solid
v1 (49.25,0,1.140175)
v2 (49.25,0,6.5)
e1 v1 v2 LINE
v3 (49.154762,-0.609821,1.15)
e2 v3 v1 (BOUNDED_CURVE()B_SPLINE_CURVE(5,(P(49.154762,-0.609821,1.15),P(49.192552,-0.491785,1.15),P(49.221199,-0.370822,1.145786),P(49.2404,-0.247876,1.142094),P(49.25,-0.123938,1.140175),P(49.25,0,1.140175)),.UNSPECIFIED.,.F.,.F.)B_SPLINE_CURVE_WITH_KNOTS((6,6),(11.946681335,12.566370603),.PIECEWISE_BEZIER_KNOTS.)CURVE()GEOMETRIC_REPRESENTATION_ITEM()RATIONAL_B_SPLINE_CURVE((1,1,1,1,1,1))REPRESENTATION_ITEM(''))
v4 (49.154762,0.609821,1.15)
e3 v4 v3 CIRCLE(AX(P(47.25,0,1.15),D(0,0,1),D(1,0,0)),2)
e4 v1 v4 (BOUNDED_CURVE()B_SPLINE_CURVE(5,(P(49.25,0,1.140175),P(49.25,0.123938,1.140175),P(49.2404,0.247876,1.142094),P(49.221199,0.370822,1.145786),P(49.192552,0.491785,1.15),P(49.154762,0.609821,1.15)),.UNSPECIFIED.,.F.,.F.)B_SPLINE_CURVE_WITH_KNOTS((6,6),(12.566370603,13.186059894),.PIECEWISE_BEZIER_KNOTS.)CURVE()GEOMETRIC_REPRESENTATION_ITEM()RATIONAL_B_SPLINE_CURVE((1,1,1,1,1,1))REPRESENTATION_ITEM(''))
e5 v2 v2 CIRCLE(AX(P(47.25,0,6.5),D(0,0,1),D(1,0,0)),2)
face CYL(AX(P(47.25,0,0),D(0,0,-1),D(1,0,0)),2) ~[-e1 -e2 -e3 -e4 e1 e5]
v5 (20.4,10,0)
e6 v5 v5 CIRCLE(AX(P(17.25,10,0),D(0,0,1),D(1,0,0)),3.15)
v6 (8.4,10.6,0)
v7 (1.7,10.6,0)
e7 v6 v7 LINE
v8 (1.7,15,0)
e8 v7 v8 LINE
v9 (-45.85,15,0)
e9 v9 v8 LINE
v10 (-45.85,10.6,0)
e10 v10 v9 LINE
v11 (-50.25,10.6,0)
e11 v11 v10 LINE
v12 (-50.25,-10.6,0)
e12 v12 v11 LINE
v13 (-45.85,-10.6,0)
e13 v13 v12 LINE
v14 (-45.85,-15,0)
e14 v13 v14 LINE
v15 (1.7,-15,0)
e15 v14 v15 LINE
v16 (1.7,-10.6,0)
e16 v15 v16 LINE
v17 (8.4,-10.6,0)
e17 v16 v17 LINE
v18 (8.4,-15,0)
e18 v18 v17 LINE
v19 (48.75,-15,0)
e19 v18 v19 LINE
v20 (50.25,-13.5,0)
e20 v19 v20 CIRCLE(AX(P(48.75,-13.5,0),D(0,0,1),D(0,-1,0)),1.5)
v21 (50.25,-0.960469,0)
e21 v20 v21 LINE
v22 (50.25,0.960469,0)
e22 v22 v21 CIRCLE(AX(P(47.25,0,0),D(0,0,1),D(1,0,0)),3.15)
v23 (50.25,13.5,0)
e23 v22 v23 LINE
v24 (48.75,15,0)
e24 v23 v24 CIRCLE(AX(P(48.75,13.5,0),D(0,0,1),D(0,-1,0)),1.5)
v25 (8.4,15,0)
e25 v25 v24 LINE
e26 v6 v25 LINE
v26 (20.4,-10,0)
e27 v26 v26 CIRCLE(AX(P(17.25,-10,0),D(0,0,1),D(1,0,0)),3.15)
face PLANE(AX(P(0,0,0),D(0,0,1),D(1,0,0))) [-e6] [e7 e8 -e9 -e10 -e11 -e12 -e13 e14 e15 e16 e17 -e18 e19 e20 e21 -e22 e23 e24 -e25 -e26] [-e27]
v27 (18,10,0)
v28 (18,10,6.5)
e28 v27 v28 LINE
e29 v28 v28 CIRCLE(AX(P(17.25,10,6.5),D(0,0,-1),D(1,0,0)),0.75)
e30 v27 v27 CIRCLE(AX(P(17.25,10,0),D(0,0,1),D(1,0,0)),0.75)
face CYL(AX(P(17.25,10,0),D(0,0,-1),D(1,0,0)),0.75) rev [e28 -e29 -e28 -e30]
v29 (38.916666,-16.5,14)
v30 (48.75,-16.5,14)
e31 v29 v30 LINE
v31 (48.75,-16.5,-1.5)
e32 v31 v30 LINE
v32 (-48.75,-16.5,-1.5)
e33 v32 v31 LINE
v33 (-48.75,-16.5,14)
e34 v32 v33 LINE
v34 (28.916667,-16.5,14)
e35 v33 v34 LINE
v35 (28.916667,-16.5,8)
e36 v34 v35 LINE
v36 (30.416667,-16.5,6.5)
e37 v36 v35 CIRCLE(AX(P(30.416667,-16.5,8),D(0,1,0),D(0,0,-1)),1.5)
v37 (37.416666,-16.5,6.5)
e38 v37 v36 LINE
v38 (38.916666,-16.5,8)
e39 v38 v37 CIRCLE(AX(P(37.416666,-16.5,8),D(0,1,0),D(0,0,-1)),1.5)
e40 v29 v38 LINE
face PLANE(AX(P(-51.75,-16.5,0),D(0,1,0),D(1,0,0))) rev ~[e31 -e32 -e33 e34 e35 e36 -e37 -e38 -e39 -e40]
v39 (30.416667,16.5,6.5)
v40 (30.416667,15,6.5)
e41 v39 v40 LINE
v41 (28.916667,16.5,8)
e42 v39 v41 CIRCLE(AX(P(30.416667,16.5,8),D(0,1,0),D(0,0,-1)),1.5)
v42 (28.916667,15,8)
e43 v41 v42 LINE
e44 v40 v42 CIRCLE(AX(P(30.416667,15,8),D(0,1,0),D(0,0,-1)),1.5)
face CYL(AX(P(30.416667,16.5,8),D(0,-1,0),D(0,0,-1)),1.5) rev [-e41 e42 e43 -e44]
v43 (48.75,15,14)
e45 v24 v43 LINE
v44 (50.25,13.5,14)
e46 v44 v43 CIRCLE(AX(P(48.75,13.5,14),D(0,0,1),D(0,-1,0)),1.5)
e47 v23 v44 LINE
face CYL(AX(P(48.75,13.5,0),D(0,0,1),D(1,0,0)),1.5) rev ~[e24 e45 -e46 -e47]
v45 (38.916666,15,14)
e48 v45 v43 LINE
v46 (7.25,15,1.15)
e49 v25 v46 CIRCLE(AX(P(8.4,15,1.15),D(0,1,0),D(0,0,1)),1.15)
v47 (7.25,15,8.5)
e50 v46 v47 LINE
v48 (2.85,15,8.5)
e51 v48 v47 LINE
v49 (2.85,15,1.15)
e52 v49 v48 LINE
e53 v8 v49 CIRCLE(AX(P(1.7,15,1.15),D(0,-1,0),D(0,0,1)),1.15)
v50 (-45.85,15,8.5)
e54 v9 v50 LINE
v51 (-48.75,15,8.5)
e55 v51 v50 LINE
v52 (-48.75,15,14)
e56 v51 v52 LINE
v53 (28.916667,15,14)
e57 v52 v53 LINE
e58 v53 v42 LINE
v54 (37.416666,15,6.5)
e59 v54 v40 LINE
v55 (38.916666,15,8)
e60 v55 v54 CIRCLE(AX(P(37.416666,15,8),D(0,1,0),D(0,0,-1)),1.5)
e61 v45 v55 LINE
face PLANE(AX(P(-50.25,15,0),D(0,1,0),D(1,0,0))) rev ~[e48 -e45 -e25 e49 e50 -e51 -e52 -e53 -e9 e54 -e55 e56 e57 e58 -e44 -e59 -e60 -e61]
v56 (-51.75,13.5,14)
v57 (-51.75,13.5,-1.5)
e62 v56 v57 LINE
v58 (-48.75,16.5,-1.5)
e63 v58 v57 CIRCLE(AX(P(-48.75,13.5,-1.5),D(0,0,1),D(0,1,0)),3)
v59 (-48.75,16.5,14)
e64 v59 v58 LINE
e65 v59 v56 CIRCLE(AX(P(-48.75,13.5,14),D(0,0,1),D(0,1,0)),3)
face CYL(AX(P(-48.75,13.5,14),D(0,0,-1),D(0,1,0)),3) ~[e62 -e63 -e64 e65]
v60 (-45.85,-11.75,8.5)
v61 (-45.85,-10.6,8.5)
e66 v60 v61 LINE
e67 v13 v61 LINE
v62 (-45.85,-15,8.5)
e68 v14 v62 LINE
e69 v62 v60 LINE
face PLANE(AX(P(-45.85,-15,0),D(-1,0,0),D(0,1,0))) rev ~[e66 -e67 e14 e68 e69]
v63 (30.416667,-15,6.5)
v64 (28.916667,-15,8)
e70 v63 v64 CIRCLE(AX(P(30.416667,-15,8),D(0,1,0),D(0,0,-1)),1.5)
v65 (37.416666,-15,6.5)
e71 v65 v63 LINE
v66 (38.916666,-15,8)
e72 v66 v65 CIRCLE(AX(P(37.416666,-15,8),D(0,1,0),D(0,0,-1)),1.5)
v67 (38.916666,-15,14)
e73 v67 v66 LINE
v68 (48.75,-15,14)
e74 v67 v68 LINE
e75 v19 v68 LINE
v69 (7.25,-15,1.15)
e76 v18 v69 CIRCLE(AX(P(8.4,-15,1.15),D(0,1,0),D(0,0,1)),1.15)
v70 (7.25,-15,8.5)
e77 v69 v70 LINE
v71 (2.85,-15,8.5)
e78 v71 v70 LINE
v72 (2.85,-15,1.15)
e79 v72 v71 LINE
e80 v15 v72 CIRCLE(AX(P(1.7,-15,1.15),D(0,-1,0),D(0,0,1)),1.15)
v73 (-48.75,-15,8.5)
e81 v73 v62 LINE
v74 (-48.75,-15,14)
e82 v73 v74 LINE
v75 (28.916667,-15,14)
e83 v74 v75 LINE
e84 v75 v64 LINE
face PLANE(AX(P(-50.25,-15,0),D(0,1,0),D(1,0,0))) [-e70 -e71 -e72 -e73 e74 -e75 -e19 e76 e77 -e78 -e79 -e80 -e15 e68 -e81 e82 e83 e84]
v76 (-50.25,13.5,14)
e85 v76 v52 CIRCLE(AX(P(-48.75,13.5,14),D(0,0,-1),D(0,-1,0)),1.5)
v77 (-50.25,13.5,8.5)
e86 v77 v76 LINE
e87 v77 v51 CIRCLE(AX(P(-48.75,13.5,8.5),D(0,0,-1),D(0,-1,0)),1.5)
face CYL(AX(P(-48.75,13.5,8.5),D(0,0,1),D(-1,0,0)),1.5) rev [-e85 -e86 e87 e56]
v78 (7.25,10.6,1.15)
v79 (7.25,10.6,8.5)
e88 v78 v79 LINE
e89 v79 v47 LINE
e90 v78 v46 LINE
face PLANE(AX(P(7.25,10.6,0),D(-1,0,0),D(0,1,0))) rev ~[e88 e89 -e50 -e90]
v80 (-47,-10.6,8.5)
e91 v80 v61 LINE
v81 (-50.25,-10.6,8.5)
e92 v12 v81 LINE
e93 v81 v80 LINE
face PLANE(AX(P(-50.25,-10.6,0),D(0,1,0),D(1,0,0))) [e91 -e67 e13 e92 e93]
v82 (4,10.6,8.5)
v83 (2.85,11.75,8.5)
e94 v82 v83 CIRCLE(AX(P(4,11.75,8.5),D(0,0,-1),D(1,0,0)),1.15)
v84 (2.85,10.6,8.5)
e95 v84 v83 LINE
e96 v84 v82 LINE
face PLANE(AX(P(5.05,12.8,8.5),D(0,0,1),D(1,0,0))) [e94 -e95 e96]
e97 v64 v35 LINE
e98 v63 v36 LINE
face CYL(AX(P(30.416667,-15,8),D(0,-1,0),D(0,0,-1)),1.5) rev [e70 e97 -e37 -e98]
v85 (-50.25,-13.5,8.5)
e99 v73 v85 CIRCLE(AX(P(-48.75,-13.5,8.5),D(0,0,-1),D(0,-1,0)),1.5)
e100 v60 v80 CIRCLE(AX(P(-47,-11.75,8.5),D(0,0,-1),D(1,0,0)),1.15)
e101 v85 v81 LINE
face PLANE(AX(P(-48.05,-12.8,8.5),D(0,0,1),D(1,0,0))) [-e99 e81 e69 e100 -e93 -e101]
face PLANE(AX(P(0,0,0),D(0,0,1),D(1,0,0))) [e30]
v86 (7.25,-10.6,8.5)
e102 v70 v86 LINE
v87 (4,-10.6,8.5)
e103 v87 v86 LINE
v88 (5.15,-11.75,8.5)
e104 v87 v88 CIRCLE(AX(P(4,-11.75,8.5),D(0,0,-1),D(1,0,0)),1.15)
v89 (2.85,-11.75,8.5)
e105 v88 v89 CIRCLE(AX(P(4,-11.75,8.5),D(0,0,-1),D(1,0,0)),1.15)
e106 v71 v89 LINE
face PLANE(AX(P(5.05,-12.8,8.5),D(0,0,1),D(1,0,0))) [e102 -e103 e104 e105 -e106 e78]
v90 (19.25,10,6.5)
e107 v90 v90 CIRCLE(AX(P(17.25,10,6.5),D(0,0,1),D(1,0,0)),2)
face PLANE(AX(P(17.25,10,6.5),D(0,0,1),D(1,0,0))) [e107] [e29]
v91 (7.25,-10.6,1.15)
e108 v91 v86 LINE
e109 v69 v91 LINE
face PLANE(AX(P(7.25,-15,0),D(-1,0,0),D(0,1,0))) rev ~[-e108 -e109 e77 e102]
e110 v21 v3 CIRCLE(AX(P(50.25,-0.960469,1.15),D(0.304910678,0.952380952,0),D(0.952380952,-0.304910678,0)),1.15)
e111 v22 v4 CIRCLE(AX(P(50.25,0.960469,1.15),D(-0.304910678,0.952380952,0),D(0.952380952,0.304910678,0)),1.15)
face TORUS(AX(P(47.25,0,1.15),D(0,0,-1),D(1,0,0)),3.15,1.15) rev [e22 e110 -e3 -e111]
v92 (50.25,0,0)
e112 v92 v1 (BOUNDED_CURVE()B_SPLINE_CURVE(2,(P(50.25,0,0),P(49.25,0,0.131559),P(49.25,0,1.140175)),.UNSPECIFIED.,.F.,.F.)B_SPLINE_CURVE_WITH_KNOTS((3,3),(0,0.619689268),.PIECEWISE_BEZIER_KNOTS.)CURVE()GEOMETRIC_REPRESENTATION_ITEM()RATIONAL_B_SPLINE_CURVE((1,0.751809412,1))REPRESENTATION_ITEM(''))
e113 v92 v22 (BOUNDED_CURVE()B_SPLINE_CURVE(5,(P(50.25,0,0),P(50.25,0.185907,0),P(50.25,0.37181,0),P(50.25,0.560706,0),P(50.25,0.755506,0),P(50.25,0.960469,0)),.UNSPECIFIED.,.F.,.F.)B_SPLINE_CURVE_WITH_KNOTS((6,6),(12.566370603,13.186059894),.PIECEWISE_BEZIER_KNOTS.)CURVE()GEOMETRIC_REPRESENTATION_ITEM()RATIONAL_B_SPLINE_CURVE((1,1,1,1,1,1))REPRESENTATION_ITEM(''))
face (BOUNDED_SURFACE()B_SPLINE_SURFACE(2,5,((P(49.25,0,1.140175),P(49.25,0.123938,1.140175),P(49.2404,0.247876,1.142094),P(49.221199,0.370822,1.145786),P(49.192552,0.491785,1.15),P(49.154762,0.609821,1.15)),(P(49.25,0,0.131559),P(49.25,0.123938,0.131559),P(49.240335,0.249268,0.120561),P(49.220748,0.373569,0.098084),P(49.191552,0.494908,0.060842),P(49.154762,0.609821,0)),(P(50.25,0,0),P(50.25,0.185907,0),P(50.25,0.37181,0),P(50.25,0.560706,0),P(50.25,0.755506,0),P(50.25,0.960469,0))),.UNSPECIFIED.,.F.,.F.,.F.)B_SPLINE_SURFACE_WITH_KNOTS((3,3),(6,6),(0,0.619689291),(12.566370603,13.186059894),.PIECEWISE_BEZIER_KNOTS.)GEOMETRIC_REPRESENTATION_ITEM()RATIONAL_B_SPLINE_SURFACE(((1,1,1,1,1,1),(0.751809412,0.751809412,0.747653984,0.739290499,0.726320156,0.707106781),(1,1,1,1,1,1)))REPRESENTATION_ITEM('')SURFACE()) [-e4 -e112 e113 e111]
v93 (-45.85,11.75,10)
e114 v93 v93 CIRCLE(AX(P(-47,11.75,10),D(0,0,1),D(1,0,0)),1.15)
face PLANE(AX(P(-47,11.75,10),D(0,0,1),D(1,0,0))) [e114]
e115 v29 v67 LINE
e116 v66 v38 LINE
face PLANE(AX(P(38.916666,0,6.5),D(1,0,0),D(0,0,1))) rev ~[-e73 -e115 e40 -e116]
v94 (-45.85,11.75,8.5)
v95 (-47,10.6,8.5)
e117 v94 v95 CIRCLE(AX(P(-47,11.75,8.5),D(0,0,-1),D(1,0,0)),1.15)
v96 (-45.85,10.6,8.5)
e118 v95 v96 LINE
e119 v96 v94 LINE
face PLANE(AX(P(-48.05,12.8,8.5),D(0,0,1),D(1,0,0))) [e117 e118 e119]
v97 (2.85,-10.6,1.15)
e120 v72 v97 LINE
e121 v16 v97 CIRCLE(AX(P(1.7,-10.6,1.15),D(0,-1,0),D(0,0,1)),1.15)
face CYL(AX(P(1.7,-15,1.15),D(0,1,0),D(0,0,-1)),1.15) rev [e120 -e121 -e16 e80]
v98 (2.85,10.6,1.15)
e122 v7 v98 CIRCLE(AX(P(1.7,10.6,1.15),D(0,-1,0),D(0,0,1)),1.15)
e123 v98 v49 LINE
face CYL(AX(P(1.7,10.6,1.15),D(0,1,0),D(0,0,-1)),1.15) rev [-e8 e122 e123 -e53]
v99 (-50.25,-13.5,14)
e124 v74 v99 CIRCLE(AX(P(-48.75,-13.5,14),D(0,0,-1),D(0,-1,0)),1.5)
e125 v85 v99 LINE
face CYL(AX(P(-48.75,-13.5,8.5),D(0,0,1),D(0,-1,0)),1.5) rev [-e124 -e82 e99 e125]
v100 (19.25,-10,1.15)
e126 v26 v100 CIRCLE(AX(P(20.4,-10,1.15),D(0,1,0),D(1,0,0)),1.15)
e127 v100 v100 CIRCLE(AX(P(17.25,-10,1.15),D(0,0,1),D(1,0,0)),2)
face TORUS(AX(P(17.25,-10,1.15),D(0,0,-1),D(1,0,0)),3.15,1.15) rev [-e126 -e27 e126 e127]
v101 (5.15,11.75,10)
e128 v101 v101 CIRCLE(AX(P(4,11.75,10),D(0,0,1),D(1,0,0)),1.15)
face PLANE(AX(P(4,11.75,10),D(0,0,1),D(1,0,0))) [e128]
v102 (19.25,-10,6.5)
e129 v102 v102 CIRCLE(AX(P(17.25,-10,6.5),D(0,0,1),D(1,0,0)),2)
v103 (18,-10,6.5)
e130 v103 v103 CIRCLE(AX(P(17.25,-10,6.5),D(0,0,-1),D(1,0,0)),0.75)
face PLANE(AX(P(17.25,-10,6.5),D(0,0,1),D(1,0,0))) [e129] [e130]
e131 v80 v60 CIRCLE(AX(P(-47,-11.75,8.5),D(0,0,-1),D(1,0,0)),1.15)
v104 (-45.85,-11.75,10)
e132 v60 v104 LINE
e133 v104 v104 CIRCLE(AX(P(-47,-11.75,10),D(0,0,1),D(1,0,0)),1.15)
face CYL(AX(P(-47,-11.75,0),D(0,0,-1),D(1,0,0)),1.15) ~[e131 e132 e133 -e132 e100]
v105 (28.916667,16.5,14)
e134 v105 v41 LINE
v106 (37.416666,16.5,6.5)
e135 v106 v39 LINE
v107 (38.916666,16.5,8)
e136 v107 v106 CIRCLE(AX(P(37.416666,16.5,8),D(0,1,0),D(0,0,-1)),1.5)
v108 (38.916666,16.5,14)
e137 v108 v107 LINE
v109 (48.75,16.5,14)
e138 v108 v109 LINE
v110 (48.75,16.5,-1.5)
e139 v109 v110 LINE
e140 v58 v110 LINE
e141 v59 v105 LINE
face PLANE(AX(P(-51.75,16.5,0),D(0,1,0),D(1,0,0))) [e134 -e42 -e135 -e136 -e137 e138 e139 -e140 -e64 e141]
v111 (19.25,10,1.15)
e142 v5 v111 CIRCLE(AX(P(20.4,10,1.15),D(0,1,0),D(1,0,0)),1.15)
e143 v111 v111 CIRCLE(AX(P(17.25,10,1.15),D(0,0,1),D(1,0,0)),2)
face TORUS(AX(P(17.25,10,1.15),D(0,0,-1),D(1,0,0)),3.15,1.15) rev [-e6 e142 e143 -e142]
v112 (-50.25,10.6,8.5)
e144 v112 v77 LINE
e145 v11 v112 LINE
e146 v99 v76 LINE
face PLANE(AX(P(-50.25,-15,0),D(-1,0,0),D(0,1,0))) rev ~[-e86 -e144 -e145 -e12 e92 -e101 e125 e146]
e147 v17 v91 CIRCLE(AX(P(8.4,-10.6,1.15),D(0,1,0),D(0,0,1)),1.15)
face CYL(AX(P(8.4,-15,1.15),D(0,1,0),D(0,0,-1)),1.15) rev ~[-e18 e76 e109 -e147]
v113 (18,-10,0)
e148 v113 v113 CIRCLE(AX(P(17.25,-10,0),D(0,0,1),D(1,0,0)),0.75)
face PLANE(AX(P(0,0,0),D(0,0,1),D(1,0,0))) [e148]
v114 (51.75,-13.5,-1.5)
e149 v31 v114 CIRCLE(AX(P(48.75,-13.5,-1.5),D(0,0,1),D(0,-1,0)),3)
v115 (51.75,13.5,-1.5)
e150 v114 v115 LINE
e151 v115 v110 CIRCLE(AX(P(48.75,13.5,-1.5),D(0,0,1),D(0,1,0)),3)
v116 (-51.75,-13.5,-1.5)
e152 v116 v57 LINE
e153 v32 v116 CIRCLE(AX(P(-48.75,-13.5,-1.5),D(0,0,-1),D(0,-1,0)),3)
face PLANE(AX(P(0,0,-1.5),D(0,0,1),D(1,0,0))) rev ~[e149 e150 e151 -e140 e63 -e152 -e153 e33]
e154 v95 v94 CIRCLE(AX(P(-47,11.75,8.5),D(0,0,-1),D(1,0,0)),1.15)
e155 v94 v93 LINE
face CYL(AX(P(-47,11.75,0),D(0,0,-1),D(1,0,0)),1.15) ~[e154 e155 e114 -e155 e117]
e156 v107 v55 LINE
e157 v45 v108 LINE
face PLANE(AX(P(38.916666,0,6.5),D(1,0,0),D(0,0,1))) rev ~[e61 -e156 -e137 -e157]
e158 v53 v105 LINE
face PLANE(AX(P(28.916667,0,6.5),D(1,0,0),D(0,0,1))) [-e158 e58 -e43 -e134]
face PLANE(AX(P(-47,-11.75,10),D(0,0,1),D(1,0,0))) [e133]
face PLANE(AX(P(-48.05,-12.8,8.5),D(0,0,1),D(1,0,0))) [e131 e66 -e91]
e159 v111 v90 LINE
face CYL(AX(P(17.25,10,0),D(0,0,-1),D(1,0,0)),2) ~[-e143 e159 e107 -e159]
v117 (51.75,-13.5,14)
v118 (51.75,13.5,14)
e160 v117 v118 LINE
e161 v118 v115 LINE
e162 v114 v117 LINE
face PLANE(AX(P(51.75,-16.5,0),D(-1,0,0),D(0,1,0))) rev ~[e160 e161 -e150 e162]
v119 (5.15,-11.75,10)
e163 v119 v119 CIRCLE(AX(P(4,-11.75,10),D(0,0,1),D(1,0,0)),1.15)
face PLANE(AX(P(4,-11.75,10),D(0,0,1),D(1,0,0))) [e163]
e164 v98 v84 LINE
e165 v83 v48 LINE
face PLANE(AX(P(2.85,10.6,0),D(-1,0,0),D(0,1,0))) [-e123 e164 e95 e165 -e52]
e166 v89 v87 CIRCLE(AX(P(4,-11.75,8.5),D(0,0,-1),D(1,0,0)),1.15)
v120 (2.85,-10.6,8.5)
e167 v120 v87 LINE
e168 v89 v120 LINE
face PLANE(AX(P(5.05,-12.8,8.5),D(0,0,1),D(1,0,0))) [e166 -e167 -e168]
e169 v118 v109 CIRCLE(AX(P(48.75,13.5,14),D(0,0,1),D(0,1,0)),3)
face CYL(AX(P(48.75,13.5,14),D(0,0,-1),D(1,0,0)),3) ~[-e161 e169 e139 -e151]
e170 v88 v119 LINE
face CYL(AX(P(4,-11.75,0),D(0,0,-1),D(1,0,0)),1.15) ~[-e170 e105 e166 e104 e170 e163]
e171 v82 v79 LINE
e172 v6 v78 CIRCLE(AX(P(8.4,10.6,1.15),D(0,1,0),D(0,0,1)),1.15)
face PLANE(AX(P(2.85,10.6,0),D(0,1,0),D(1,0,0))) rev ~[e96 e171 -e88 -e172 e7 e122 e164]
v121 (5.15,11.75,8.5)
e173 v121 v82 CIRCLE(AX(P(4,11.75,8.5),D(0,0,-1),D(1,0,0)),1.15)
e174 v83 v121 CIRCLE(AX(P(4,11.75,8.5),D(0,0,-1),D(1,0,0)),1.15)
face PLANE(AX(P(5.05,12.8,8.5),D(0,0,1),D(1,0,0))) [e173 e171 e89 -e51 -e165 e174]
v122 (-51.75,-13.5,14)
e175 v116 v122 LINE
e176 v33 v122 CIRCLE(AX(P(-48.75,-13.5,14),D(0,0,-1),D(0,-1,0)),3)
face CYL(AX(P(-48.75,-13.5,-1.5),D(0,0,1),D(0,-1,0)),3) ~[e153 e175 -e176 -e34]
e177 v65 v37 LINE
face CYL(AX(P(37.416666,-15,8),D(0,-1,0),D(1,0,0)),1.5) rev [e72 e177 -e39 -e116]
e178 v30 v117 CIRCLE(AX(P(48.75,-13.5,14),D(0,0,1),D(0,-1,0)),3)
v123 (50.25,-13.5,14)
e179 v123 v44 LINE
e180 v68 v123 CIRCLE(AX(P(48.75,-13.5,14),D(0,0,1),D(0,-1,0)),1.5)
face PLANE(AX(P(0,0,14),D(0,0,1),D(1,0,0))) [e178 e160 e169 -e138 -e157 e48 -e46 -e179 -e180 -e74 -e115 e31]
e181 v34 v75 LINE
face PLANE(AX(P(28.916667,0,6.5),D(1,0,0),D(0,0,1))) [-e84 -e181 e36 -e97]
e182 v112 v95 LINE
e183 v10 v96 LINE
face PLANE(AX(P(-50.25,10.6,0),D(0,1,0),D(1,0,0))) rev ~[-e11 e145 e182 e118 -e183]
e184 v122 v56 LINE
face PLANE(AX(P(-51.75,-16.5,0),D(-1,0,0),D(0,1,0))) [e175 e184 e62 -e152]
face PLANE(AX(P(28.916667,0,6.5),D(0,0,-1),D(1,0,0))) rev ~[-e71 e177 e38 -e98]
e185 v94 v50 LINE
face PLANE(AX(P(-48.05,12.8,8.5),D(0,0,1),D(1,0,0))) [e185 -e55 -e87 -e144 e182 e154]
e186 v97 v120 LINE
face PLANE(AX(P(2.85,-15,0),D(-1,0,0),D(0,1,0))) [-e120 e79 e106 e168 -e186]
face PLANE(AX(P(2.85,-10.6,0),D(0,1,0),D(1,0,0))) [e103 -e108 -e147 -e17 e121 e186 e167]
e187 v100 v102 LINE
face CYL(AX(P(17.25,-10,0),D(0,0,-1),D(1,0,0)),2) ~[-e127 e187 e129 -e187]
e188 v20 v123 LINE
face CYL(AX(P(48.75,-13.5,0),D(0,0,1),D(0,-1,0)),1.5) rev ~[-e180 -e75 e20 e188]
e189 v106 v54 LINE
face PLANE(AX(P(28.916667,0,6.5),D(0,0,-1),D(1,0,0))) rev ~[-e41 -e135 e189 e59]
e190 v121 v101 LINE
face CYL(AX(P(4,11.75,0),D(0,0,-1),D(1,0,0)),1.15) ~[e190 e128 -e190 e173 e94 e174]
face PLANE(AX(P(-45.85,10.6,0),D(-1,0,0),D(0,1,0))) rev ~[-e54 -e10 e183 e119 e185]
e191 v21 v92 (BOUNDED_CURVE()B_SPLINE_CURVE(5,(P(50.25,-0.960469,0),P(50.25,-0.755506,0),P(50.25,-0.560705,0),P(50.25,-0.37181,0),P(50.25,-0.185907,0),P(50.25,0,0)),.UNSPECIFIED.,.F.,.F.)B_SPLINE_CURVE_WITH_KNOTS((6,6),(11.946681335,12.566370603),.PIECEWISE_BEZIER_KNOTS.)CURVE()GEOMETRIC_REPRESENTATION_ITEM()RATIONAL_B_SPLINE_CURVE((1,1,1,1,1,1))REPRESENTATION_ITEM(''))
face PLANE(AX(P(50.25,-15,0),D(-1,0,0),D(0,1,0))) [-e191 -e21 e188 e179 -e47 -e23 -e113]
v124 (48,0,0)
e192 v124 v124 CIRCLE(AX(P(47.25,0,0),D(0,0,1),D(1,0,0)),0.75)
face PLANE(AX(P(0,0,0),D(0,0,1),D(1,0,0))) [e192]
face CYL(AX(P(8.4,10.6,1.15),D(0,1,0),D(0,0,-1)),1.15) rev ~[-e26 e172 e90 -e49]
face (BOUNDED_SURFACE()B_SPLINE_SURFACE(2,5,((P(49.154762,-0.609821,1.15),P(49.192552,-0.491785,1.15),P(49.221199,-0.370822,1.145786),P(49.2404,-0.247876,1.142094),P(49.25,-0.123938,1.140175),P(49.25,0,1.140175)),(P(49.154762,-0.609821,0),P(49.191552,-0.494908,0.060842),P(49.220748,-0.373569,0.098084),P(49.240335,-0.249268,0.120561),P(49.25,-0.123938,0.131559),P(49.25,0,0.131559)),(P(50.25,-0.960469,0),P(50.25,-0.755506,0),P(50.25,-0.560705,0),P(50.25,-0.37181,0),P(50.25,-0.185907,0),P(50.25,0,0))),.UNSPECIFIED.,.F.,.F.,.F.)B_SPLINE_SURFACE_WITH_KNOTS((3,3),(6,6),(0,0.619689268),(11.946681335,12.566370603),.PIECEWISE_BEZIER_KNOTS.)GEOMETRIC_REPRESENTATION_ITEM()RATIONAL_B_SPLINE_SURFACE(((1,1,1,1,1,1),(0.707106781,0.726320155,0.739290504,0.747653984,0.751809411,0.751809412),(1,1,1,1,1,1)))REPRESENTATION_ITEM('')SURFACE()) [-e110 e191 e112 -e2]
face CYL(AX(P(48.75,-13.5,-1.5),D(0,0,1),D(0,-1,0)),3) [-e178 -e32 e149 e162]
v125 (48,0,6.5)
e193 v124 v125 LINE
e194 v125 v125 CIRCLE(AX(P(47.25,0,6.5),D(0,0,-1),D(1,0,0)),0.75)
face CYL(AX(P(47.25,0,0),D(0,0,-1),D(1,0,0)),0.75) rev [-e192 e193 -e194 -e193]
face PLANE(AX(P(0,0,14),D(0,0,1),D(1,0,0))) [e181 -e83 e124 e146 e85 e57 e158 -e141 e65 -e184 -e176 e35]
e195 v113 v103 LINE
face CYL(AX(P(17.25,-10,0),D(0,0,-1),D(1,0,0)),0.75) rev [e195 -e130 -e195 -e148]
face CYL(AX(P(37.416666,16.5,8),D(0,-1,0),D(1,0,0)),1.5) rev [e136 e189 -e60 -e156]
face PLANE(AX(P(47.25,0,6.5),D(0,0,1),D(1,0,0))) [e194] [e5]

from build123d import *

# Parameters (mm, degrees)
SKETCH001_W     = 103.5
SKETCH001_H     = 33
PAD_DEPTH       = 1.5
SKETCH002_W     = 103.5
SKETCH002_H     = 33
SKETCH002_W_2   = 100.5
SKETCH002_H_2   = 30
PAD001_DEPTH    = 14
SKETCH003_R     = 1.15
SKETCH003_R_2   = 2
SKETCH003_R_3   = 0.75
PAD002_DEPTH    = 10
SKETCH004_W     = 4.4
SKETCH004_H     = 4.4
PAD003_DEPTH    = 8.5
FILLET_R        = 1.15
SKETCH005_R     = 2
POCKET_DEPTH    = 3.5
SKETCH006_W     = 9.999999
SKETCH006_H     = 7.5
POCKET001_DEPTH = 16.6
FILLET001_R     = 1.5
FILLET002_R     = 1.5
FILLET003_R     = 3


with BuildPart() as part:
    # Sketch001 → Pad (new body)
    with BuildSketch(Plane.XY):
        Rectangle(SKETCH001_W, SKETCH001_H)
    extrude(amount=-PAD_DEPTH)

    # Sketch002 (on Face5 of Pad) → Pad001 (join)
    with BuildSketch(Plane.XY):
        Rectangle(SKETCH002_W, SKETCH002_H)
        Rectangle(SKETCH002_W_2, SKETCH002_H_2, mode=Mode.SUBTRACT)
    extrude(amount=PAD001_DEPTH)

    # Sketch003 (on Face15 of Pad001) → Pad002 (join)
    with BuildSketch(Plane.XY):
        with Locations((4, -11.75)):
            Circle(SKETCH003_R)
        with Locations((-47, -11.75)):
            Circle(SKETCH003_R)
        with Locations((-47, 11.75)):
            Circle(SKETCH003_R)
        with Locations((4, 11.75)):
            Circle(SKETCH003_R)
        with Locations((17.25, 10)):
            Circle(SKETCH003_R_2)
        with Locations((17.25, 10)):
            Circle(SKETCH003_R_3, mode=Mode.SUBTRACT)
        with Locations((17.25, -10)):
            Circle(SKETCH003_R_2)
        with Locations((17.25, -10)):
            Circle(SKETCH003_R_3, mode=Mode.SUBTRACT)
        with Locations((47.25, 0)):
            Circle(SKETCH003_R_2)
        with Locations((47.25, 0)):
            Circle(SKETCH003_R_3, mode=Mode.SUBTRACT)
    extrude(amount=PAD002_DEPTH)

    # Sketch004 (on Face15 of Pad002) → Pad003 (join)
    with BuildSketch(Plane.XY):
        with Locations((-48.05, 12.8)):
            Rectangle(SKETCH004_W, SKETCH004_H)
        with Locations((-48.05, -12.8)):
            Rectangle(SKETCH004_W, SKETCH004_H)
        with Locations((5.05, 12.8)):
            Rectangle(SKETCH004_W, SKETCH004_H)
        with Locations((5.05, -12.8)):
            Rectangle(SKETCH004_W, SKETCH004_H)
    extrude(amount=PAD003_DEPTH)

    # Fillet
    fillet_edges = [part.edges().sort_by_distance(p)[0] for p in [
        (45.25, 0, 0),
        (15.25, 10, 0),
        (15.25, -10, 0),
        (2.85, 13.375, 0),
        (2.85, 11.175, 0),
        (2.85, -11.175, 0),
        (2.85, -13.375, 0),
        (7.25, 12.8, 0),
        (7.25, -12.8, 0),
    ]]
    fillet(fillet_edges, radius=FILLET_R)

    # Sketch005 (on Face62 of Fillet) → Pocket (cut)
    with BuildSketch(Plane.XY.offset(10)):
        with Locations((17.25, 10)):
            Circle(SKETCH005_R)
        with Locations((17.25, -10)):
            Circle(SKETCH005_R)
        with Locations((47.25, 0)):
            Circle(SKETCH005_R)
    extrude(amount=-POCKET_DEPTH, mode=Mode.SUBTRACT)

    # Sketch006 → Pocket001 (cut, symmetric)
    with BuildSketch(Plane.XZ):
        with Locations((33.916666, 10.25)):
            Rectangle(SKETCH006_W, SKETCH006_H)
    extrude(amount=POCKET001_DEPTH, both=True, mode=Mode.SUBTRACT)

    # Fillet001
    fillet001_edges = [part.edges().sort_by_distance(p)[0] for p in [
        (38.916666, -15.75, 6.5),
        (38.916666, 15.75, 6.5),
        (28.916667, -15.75, 6.5),
        (28.916667, 15.75, 6.5),
    ]]
    fillet(fillet001_edges, radius=FILLET001_R)

    # Fillet002
    fillet002_edges = [part.edges().sort_by_distance(p)[0] for p in [
        (50.25, 15, 7),
        (50.25, -15, 7),
        (-50.25, 15, 11.25),
        (-50.25, -15, 11.25),
    ]]
    fillet(fillet002_edges, radius=FILLET002_R)

    # Fillet003
    fillet003_edges = [part.edges().sort_by_distance(p)[0] for p in [
        (-51.75, -16.5, 7),
        (51.75, -16.5, 7),
        (51.75, 16.5, 7),
        (-51.75, 16.5, 7),
    ]]
    fillet(fillet003_edges, radius=FILLET003_R)


solid = part.part
